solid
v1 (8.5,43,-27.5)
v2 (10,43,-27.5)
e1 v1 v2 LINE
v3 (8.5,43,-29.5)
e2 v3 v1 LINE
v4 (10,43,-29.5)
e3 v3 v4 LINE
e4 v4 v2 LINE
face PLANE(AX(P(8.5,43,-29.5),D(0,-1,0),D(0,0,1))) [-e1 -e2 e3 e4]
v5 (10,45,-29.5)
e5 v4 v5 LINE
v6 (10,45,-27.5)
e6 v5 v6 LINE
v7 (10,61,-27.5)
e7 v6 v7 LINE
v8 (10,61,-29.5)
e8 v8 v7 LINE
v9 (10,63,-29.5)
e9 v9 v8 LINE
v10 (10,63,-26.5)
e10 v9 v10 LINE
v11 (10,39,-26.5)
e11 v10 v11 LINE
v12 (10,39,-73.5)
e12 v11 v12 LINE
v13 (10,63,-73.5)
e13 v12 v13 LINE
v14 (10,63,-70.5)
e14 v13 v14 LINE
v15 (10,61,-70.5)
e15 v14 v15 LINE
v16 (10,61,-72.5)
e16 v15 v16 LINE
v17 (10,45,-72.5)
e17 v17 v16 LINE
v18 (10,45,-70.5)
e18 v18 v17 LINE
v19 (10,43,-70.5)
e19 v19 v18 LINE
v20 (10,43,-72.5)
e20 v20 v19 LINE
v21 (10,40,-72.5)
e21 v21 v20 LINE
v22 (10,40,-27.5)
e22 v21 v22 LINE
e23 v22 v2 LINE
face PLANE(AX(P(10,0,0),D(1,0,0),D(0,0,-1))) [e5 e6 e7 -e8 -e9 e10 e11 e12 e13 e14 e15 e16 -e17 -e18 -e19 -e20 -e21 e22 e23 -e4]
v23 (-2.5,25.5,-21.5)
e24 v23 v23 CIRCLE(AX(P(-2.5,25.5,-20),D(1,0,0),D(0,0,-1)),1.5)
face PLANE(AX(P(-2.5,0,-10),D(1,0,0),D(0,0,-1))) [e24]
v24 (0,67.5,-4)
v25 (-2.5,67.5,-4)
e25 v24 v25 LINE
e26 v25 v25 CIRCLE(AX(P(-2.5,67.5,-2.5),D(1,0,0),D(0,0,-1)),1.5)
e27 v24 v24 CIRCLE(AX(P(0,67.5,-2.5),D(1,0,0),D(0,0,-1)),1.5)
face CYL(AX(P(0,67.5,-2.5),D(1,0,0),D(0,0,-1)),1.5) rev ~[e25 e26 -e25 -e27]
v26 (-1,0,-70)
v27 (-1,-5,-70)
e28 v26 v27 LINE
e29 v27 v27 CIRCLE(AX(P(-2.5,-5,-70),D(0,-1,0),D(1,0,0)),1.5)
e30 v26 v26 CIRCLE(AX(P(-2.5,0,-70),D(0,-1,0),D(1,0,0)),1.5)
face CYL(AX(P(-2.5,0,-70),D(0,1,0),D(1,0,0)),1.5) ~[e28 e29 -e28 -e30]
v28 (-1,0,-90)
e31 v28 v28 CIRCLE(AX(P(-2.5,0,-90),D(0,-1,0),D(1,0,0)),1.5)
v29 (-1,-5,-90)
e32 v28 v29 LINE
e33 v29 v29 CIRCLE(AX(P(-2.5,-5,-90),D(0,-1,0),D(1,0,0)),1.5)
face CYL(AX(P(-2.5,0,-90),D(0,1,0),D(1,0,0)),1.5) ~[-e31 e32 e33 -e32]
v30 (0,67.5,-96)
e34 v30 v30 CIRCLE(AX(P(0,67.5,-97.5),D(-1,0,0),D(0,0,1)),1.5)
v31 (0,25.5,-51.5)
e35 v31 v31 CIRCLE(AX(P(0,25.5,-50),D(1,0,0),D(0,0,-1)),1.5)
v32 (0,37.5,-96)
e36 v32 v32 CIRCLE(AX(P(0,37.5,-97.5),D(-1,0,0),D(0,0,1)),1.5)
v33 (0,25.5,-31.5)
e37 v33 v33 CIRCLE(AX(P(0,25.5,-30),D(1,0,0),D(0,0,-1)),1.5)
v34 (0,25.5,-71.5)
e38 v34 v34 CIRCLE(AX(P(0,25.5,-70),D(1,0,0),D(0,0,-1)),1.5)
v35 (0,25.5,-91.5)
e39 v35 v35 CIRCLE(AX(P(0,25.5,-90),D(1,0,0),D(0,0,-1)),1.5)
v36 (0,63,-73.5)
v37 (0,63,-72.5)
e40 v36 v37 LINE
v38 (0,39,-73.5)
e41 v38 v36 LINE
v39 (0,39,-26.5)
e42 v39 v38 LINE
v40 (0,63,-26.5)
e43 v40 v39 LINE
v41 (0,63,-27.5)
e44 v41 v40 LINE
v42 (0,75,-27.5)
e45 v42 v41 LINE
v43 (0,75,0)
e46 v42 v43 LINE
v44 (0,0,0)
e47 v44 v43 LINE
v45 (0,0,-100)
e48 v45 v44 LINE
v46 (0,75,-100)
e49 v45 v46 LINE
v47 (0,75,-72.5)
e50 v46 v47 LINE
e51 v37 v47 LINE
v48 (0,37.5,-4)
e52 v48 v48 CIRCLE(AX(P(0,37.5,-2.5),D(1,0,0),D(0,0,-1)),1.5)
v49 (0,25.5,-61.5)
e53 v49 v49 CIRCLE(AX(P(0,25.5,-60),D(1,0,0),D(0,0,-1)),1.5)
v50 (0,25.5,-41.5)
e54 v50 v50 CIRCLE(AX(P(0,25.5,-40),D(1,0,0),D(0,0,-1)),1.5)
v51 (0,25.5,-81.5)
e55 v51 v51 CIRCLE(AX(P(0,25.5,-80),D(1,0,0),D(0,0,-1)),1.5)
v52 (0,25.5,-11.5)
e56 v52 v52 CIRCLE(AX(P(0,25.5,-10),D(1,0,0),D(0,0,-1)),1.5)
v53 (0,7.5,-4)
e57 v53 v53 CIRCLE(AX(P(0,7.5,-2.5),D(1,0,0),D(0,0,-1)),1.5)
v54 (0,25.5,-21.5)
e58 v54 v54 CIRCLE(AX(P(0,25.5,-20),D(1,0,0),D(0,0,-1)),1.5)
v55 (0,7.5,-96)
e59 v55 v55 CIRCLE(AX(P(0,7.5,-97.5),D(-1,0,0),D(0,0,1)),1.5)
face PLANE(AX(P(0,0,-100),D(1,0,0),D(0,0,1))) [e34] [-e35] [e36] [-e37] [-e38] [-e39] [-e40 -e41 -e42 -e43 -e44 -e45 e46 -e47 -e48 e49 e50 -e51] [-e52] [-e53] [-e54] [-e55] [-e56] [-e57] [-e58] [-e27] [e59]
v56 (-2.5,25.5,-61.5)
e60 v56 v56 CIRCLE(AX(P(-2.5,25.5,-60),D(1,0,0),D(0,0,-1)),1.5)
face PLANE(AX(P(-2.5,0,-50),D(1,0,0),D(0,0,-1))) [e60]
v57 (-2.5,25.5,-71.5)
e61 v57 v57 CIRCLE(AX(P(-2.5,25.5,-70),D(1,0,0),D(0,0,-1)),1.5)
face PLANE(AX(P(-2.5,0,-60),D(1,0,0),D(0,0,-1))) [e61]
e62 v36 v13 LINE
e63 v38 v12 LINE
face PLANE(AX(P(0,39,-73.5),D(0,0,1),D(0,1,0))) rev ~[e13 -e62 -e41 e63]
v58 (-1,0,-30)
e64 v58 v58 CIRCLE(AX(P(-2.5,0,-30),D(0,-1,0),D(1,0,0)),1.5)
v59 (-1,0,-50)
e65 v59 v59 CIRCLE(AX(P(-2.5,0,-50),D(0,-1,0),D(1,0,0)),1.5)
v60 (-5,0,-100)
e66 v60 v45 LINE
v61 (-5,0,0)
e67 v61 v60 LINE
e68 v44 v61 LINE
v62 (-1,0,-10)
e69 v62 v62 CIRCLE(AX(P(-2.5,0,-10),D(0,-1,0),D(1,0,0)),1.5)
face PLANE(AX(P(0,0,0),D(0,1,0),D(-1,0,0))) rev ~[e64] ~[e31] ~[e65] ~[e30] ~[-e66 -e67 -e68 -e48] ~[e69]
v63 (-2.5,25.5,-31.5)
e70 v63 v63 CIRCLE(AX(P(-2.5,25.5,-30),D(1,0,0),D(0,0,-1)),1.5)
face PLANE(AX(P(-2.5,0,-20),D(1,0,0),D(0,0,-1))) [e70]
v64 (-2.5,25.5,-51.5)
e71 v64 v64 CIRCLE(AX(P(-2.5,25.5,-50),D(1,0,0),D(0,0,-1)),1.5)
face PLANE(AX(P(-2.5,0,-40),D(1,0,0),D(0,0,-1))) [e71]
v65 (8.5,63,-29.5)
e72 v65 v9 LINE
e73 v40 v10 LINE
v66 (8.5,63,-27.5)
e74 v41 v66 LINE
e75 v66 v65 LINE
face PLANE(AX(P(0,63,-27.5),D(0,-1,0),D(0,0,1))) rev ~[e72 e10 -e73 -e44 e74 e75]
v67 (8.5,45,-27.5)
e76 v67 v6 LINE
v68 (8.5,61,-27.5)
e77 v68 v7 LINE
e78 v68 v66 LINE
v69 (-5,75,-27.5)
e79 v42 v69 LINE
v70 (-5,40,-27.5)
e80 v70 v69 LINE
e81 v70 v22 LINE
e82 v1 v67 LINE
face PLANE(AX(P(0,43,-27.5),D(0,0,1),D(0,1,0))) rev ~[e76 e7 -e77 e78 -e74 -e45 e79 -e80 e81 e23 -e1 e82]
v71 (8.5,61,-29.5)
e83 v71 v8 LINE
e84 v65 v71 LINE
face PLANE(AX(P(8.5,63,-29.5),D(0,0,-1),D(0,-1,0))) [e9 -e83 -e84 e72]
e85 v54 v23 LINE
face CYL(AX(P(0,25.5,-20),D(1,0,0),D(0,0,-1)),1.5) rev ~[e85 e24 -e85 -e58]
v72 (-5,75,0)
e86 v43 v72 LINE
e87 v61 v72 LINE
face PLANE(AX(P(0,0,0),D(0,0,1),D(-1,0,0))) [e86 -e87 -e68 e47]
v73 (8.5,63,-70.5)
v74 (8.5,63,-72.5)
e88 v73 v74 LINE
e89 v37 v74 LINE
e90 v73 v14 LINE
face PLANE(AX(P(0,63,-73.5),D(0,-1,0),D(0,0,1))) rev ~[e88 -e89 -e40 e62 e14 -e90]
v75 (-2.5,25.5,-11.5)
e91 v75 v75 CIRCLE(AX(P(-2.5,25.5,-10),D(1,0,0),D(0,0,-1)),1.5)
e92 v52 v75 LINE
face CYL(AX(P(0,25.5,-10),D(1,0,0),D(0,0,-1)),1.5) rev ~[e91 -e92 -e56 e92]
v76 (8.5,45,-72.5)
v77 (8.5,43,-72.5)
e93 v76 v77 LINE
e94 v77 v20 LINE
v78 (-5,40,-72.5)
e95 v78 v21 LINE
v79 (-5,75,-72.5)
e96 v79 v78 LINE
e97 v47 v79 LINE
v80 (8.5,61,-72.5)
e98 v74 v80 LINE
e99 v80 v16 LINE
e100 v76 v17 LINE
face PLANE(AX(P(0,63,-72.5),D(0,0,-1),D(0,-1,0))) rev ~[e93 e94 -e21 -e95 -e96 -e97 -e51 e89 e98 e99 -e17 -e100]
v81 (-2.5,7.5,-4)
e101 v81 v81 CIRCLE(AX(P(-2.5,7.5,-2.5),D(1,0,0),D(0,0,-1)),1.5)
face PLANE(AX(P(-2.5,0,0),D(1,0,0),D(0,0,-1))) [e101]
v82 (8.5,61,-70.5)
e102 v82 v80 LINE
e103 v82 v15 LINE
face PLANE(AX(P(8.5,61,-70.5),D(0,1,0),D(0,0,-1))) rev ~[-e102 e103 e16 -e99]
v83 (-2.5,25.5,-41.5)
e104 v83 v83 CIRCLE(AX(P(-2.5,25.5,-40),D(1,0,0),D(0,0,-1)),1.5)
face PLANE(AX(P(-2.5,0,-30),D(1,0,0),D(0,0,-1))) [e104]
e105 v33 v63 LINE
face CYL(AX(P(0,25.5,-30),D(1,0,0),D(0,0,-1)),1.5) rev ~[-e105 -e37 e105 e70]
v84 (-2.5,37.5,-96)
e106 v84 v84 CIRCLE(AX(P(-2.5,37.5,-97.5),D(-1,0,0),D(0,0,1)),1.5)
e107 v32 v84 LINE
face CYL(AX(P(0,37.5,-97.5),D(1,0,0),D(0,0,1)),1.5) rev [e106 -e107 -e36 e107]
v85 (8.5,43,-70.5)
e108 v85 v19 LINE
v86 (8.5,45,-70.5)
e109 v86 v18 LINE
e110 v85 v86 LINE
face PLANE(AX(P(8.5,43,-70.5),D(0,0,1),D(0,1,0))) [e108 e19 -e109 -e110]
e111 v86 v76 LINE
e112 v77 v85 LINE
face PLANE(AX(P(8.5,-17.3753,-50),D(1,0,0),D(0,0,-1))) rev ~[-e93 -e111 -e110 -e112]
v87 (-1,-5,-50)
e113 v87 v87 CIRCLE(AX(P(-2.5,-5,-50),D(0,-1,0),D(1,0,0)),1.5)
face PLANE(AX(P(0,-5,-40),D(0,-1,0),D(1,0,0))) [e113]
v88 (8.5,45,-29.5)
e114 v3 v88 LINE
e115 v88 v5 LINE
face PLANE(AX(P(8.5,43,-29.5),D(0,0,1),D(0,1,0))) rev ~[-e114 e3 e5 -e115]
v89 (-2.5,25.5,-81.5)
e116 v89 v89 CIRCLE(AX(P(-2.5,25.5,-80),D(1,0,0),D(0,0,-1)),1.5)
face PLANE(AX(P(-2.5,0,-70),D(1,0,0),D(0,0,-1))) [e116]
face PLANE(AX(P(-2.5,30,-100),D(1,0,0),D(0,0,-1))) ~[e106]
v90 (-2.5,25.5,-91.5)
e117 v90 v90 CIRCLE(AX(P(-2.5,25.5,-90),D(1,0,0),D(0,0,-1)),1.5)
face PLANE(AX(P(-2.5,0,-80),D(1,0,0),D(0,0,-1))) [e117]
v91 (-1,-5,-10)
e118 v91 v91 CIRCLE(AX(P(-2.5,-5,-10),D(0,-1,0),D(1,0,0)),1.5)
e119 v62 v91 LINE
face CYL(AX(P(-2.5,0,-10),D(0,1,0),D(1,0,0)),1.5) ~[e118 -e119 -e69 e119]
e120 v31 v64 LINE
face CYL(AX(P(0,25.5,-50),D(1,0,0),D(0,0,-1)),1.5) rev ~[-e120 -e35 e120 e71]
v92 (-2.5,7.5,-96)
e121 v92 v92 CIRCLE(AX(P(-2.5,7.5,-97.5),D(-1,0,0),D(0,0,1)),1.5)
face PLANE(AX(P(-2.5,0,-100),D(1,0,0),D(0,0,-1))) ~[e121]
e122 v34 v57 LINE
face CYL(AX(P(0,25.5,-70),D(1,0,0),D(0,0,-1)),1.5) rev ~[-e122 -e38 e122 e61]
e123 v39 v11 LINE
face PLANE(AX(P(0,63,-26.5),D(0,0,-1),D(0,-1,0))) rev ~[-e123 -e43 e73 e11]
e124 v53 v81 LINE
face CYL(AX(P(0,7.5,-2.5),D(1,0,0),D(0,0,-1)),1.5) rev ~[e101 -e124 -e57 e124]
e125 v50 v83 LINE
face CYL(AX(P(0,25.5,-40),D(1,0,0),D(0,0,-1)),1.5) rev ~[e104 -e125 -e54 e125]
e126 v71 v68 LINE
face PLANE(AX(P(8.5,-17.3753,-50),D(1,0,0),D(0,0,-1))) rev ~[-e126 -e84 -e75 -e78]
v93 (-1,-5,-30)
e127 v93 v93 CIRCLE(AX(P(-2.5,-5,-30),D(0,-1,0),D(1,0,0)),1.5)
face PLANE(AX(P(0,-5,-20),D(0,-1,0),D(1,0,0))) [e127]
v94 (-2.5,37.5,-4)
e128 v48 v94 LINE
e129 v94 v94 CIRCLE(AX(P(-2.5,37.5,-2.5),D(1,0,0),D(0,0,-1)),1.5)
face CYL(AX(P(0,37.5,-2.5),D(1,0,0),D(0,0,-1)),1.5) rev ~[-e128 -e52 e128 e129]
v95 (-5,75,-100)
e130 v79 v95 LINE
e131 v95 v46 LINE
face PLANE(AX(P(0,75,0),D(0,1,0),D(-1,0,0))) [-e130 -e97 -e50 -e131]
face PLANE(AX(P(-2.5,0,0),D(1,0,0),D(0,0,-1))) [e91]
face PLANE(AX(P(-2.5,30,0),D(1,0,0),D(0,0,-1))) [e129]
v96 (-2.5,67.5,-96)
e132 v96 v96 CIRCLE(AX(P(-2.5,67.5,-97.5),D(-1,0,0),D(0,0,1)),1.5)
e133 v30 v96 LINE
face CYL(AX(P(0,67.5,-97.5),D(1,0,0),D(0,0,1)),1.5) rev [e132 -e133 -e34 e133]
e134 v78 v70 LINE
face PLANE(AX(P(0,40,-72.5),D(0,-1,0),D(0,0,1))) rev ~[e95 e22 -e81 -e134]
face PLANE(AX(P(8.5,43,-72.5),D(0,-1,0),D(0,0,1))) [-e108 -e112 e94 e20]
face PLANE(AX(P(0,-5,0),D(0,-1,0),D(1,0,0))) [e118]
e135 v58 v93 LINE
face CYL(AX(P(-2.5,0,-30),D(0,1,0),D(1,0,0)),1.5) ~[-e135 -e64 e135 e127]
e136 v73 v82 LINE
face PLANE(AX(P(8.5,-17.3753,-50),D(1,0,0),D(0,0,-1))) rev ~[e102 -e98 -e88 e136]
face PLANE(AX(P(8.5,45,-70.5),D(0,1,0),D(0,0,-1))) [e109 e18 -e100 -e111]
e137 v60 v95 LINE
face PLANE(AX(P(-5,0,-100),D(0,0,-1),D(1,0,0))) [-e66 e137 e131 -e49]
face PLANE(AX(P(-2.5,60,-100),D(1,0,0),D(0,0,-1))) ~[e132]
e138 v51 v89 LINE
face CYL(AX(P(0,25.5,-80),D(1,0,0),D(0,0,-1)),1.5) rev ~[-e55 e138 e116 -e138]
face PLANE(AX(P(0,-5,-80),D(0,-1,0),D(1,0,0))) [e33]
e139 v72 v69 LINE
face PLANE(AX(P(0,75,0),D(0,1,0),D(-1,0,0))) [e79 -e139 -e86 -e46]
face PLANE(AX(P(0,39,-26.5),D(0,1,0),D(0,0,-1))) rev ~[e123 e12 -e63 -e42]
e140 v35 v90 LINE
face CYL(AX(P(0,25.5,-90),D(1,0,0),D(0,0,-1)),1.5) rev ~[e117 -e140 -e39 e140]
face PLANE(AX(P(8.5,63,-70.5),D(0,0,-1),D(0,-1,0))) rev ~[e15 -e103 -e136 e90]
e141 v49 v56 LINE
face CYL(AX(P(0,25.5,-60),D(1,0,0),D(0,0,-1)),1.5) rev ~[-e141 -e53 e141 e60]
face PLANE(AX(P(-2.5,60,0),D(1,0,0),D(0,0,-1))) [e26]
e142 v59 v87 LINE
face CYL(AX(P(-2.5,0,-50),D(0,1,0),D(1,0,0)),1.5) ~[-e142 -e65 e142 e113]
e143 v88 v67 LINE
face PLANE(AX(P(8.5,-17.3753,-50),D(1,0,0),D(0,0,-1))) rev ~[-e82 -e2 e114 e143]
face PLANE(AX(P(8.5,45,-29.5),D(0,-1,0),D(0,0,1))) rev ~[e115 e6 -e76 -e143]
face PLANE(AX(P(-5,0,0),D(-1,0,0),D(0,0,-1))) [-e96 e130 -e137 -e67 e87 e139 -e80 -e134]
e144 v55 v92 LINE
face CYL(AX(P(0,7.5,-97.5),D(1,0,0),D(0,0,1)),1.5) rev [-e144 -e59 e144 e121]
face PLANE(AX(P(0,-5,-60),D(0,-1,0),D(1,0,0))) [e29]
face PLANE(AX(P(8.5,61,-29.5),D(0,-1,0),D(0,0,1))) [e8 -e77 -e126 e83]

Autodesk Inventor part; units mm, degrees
ref_plane "YZ Plane" through (0, 0, 0) normal (1, 0, 0) x (0, 1, 0)
sketch "Sketch2" plane through (0, 0, 0) normal (0, 1, 0) x (-1, 0, 0)
  line L0 (0, 0) -> (5, 0)
  line L1 (5, 0) -> (5, -100)
  line L2 (5, -100) -> (0, -100)
  line L3 (0, -100) -> (0, 0)
  dimension "d0" = 5
  dimension "d1" = 100
extrude "Extrusion1" add sketch "Sketch2" along normal blind 75
sketch "Sketch4" plane through (0, 0, 0) normal (1, 0, 0) x (0, 0, -1)
  line L0 (0, 75) -> (100, 75) projected
  line L1 (27.5, 40) -> (72.5, 40)
  line L2 (72.5, 40) -> (72.5, 75)
  line L3 (72.5, 75) -> (27.5, 75)
  line L4 (27.5, 75) -> (27.5, 40)
  line L5 (100, 0) -> (100, 75) projected
  line L6 (0, 0) -> (100, 0) projected
  line L7 (0, 0) -> (0, 75) projected
  dimension "d9" = 27.5
  dimension "d11" = 40
  dimension "d12" = 45
  dimension "d13" = 27.5
extrude "Extrusion3" cut sketch "Sketch4" against normal through all contours L0 L2 L1 L4
sketch "Sketch5" plane through (0, 0, 0) normal (1, 0, 0) x (0, 0, -1)
  line L0 (72.5, 43) -> (27.5, 43) projected
  line L1 (72.5, 63) -> (72.5, 43) projected
  line L2 (27.5, 63) -> (72.5, 63) projected
  line L3 (27.5, 43) -> (27.5, 63) projected
  circle A0 centre (28.5, 44) radius 0.75 projected
  circle A1 centre (28.5, 62) radius 0.75 projected
  circle A2 centre (71.5, 44) radius 0.75 projected
  circle A3 centre (71.5, 62) radius 0.75 projected
  line L4 (47.55, 45.5) -> (47.35, 45.5) projected
  line L5 (47.55, 45.5) -> (47.65, 45.6) projected
  line L6 (49.8, 45.6) -> (47.65, 45.6) projected
  line L7 (49.8, 45.6) -> (49.9, 45.5) projected
  line L8 (50.1, 45.5) -> (49.9, 45.5) projected
  line L9 (50.1, 45.5) -> (50.2, 45.6) projected
  line L10 (52.35, 45.6) -> (50.2, 45.6) projected
  line L11 (52.35, 45.6) -> (52.45, 45.5) projected
  line L12 (52.65, 45.5) -> (52.45, 45.5) projected
  line L13 (52.65, 45.5) -> (52.75, 45.6) projected
  line L14 (54.9, 45.6) -> (52.75, 45.6) projected
  line L15 (54.9, 45.6) -> (55, 45.5) projected
  line L16 (55, 43.2) -> (55, 45.5) projected
  line L17 (55, 43.2) -> (54.9, 43.1) projected
  line L18 (52.75, 43.1) -> (54.9, 43.1) projected
  line L19 (52.75, 43.1) -> (52.65, 43.2) projected
  line L20 (52.45, 43.2) -> (52.65, 43.2) projected
  line L21 (52.45, 43.2) -> (52.35, 43.1) projected
  line L22 (50.2, 43.1) -> (52.35, 43.1) projected
  line L23 (50.2, 43.1) -> (50.1, 43.2) projected
  line L24 (49.9, 43.2) -> (50.1, 43.2) projected
  line L25 (49.9, 43.2) -> (49.8, 43.1) projected
  line L26 (47.65, 43.1) -> (49.8, 43.1) projected
  line L27 (47.65, 43.1) -> (47.55, 43.2) projected
  line L28 (47.35, 43.2) -> (47.55, 43.2) projected
  line L29 (47.35, 43.2) -> (47.25, 43.1) projected
  line L30 (45.1, 43.1) -> (47.25, 43.1) projected
  line L31 (45.1, 43.1) -> (45, 43.2) projected
  line L32 (45, 45.5) -> (45, 43.2) projected
  line L33 (45, 45.5) -> (45.1, 45.6) projected
  line L34 (47.25, 45.6) -> (45.1, 45.6) projected
  line L35 (47.25, 45.6) -> (47.35, 45.5) projected
  line L36 (29, 56.95) -> (29, 56.75) projected
  line L37 (29.1, 56.95) -> (29, 56.95) projected
  line L38 (29.1, 56.75) -> (29.1, 56.95) projected
  line L39 (29, 56.75) -> (29.1, 56.75) projected
  line L40 (33.9, 56.95) -> (33.9, 56.75) projected
  line L41 (34, 56.95) -> (33.9, 56.95) projected
  line L42 (34, 56.75) -> (34, 56.95) projected
  line L43 (33.9, 56.75) -> (34, 56.75) projected
  line L44 (29, 55.8071) -> (29, 55.6071) projected
  line L45 (29.1, 55.8071) -> (29, 55.8071) projected
  line L46 (29.1, 55.6071) -> (29.1, 55.8071) projected
  line L47 (29, 55.6071) -> (29.1, 55.6071) projected
  line L48 (33.9, 55.8071) -> (33.9, 55.6071) projected
  line L49 (34, 55.8071) -> (33.9, 55.8071) projected
  line L50 (34, 55.6071) -> (34, 55.8071) projected
  line L51 (33.9, 55.6071) -> (34, 55.6071) projected
  line L52 (29, 54.6643) -> (29, 54.4643) projected
  line L53 (29.1, 54.6643) -> (29, 54.6643) projected
  line L54 (29.1, 54.4643) -> (29.1, 54.6643) projected
  line L55 (29, 54.4643) -> (29.1, 54.4643) projected
  line L56 (33.9, 54.6643) -> (33.9, 54.4643) projected
  line L57 (34, 54.6643) -> (33.9, 54.6643) projected
  line L58 (34, 54.4643) -> (34, 54.6643) projected
  line L59 (33.9, 54.4643) -> (34, 54.4643) projected
  line L60 (29, 53.5214) -> (29, 53.3214) projected
  line L61 (29.1, 53.5214) -> (29, 53.5214) projected
  line L62 (29.1, 53.3214) -> (29.1, 53.5214) projected
  line L63 (29, 53.3214) -> (29.1, 53.3214) projected
  line L64 (33.9, 53.5214) -> (33.9, 53.3214) projected
  line L65 (34, 53.5214) -> (33.9, 53.5214) projected
  line L66 (34, 53.3214) -> (34, 53.5214) projected
  line L67 (33.9, 53.3214) -> (34, 53.3214) projected
  line L68 (29, 52.3786) -> (29, 52.1786) projected
  line L69 (29.1, 52.3786) -> (29, 52.3786) projected
  line L70 (29.1, 52.1786) -> (29.1, 52.3786) projected
  line L71 (29, 52.1786) -> (29.1, 52.1786) projected
  line L72 (33.9, 52.3786) -> (33.9, 52.1786) projected
  line L73 (34, 52.3786) -> (33.9, 52.3786) projected
  line L74 (34, 52.1786) -> (34, 52.3786) projected
  line L75 (33.9, 52.1786) -> (34, 52.1786) projected
  line L76 (29, 51.2357) -> (29, 51.0357) projected
  line L77 (29.1, 51.2357) -> (29, 51.2357) projected
  line L78 (29.1, 51.0357) -> (29.1, 51.2357) projected
  line L79 (29, 51.0357) -> (29.1, 51.0357) projected
  line L80 (33.9, 51.2357) -> (33.9, 51.0357) projected
  line L81 (34, 51.2357) -> (33.9, 51.2357) projected
  line L82 (34, 51.0357) -> (34, 51.2357) projected
  line L83 (33.9, 51.0357) -> (34, 51.0357) projected
  line L84 (29, 50.0929) -> (29, 49.8929) projected
  line L85 (29.1, 50.0929) -> (29, 50.0929) projected
  line L86 (29.1, 49.8929) -> (29.1, 50.0929) projected
  line L87 (29, 49.8929) -> (29.1, 49.8929) projected
  line L88 (33.9, 50.0929) -> (33.9, 49.8929) projected
  line L89 (34, 50.0929) -> (33.9, 50.0929) projected
  line L90 (34, 49.8929) -> (34, 50.0929) projected
  line L91 (33.9, 49.8929) -> (34, 49.8929) projected
  line L92 (29, 48.95) -> (29, 48.75) projected
  line L93 (29.1, 48.95) -> (29, 48.95) projected
  line L94 (29.1, 48.75) -> (29.1, 48.95) projected
  line L95 (29, 48.75) -> (29.1, 48.75) projected
  line L96 (33.9, 48.95) -> (33.9, 48.75) projected
  line L97 (34, 48.95) -> (33.9, 48.95) projected
  line L98 (34, 48.75) -> (34, 48.95) projected
  line L99 (33.9, 48.75) -> (34, 48.75) projected
  line L100 (45.95, 50.5) -> (46.15, 50.5) projected
  line L101 (45.95, 50.55) -> (45.95, 50.5) projected
  line L102 (46.15, 50.55) -> (45.95, 50.55) projected
  line L103 (46.15, 50.5) -> (46.15, 50.55) projected
  line L104 (46.15, 55.5) -> (45.95, 55.5) projected
  line L105 (46.15, 55.45) -> (46.15, 55.5) projected
  line L106 (45.95, 55.45) -> (46.15, 55.45) projected
  line L107 (45.95, 55.5) -> (45.95, 55.45) projected
  line L108 (47.2667, 50.5) -> (47.4667, 50.5) projected
  line L109 (47.2667, 50.55) -> (47.2667, 50.5) projected
  line L110 (47.4667, 50.55) -> (47.2667, 50.55) projected
  line L111 (47.4667, 50.5) -> (47.4667, 50.55) projected
  line L112 (47.4667, 55.5) -> (47.2667, 55.5) projected
  line L113 (47.4667, 55.45) -> (47.4667, 55.5) projected
  line L114 (47.2667, 55.45) -> (47.4667, 55.45) projected
  line L115 (47.2667, 55.5) -> (47.2667, 55.45) projected
  line L116 (48.5833, 50.5) -> (48.7833, 50.5) projected
  line L117 (48.5833, 50.55) -> (48.5833, 50.5) projected
  line L118 (48.7833, 50.55) -> (48.5833, 50.55) projected
  line L119 (48.7833, 50.5) -> (48.7833, 50.55) projected
  line L120 (48.7833, 55.5) -> (48.5833, 55.5) projected
  line L121 (48.7833, 55.45) -> (48.7833, 55.5) projected
  line L122 (48.5833, 55.45) -> (48.7833, 55.45) projected
  line L123 (48.5833, 55.5) -> (48.5833, 55.45) projected
  line L124 (49.9, 50.5) -> (50.1, 50.5) projected
  line L125 (49.9, 50.55) -> (49.9, 50.5) projected
  line L126 (50.1, 50.55) -> (49.9, 50.55) projected
  line L127 (50.1, 50.5) -> (50.1, 50.55) projected
  line L128 (50.1, 55.5) -> (49.9, 55.5) projected
  line L129 (50.1, 55.45) -> (50.1, 55.5) projected
  line L130 (49.9, 55.45) -> (50.1, 55.45) projected
  line L131 (49.9, 55.5) -> (49.9, 55.45) projected
  line L132 (51.2167, 50.5) -> (51.4167, 50.5) projected
  line L133 (51.2167, 50.55) -> (51.2167, 50.5) projected
  line L134 (51.4167, 50.55) -> (51.2167, 50.55) projected
  line L135 (51.4167, 50.5) -> (51.4167, 50.55) projected
  line L136 (51.4167, 55.5) -> (51.2167, 55.5) projected
  line L137 (51.4167, 55.45) -> (51.4167, 55.5) projected
  line L138 (51.2167, 55.45) -> (51.4167, 55.45) projected
  line L139 (51.2167, 55.5) -> (51.2167, 55.45) projected
  line L140 (52.5333, 50.5) -> (52.7333, 50.5) projected
  line L141 (52.5333, 50.55) -> (52.5333, 50.5) projected
  line L142 (52.7333, 50.55) -> (52.5333, 50.55) projected
  line L143 (52.7333, 50.5) -> (52.7333, 50.55) projected
  line L144 (52.7333, 55.5) -> (52.5333, 55.5) projected
  line L145 (52.7333, 55.45) -> (52.7333, 55.5) projected
  line L146 (52.5333, 55.45) -> (52.7333, 55.45) projected
  line L147 (52.5333, 55.5) -> (52.5333, 55.45) projected
  line L148 (53.85, 50.5) -> (54.05, 50.5) projected
  line L149 (53.85, 50.55) -> (53.85, 50.5) projected
  line L150 (54.05, 50.55) -> (53.85, 50.55) projected
  line L151 (54.05, 50.5) -> (54.05, 50.55) projected
  line L152 (54.05, 55.5) -> (53.85, 55.5) projected
  line L153 (54.05, 55.45) -> (54.05, 55.5) projected
  line L154 (53.85, 55.45) -> (54.05, 55.45) projected
  line L155 (53.85, 55.5) -> (53.85, 55.45) projected
  line L156 (64.1, 50.5) -> (64.3, 50.5) projected
  line L157 (64.1, 50.55) -> (64.1, 50.5) projected
  line L158 (64.3, 50.55) -> (64.1, 50.55) projected
  line L159 (64.3, 50.5) -> (64.3, 50.55) projected
  line L160 (64.3, 55.5) -> (64.1, 55.5) projected
  line L161 (64.3, 55.45) -> (64.3, 55.5) projected
  line L162 (64.1, 55.45) -> (64.3, 55.45) projected
  line L163 (64.1, 55.5) -> (64.1, 55.45) projected
  line L164 (65.4167, 50.5) -> (65.6167, 50.5) projected
  line L165 (65.4167, 50.55) -> (65.4167, 50.5) projected
  line L166 (65.6167, 50.55) -> (65.4167, 50.55) projected
  line L167 (65.6167, 50.5) -> (65.6167, 50.55) projected
  line L168 (65.6167, 55.5) -> (65.4167, 55.5) projected
  line L169 (65.6167, 55.45) -> (65.6167, 55.5) projected
  line L170 (65.4167, 55.45) -> (65.6167, 55.45) projected
  line L171 (65.4167, 55.5) -> (65.4167, 55.45) projected
  line L172 (66.7333, 50.5) -> (66.9333, 50.5) projected
  line L173 (66.7333, 50.55) -> (66.7333, 50.5) projected
  line L174 (66.9333, 50.55) -> (66.7333, 50.55) projected
  line L175 (66.9333, 50.5) -> (66.9333, 50.55) projected
  line L176 (66.9333, 55.5) -> (66.7333, 55.5) projected
  line L177 (66.9333, 55.45) -> (66.9333, 55.5) projected
  line L178 (66.7333, 55.45) -> (66.9333, 55.45) projected
  line L179 (66.7333, 55.5) -> (66.7333, 55.45) projected
  line L180 (68.05, 50.5) -> (68.25, 50.5) projected
  line L181 (68.05, 50.55) -> (68.05, 50.5) projected
  line L182 (68.25, 50.55) -> (68.05, 50.55) projected
  line L183 (68.25, 50.5) -> (68.25, 50.55) projected
  line L184 (68.25, 55.5) -> (68.05, 55.5) projected
  line L185 (68.25, 55.45) -> (68.25, 55.5) projected
  line L186 (68.05, 55.45) -> (68.25, 55.45) projected
  line L187 (68.05, 55.5) -> (68.05, 55.45) projected
  line L188 (69.3667, 50.5) -> (69.5667, 50.5) projected
  line L189 (69.3667, 50.55) -> (69.3667, 50.5) projected
  line L190 (69.5667, 50.55) -> (69.3667, 50.55) projected
  line L191 (69.5667, 50.5) -> (69.5667, 50.55) projected
  line L192 (69.5667, 55.5) -> (69.3667, 55.5) projected
  line L193 (69.5667, 55.45) -> (69.5667, 55.5) projected
  line L194 (69.3667, 55.45) -> (69.5667, 55.45) projected
  line L195 (69.3667, 55.5) -> (69.3667, 55.45) projected
  line L196 (70.6833, 50.5) -> (70.8833, 50.5) projected
  line L197 (70.6833, 50.55) -> (70.6833, 50.5) projected
  line L198 (70.8833, 50.55) -> (70.6833, 50.55) projected
  line L199 (70.8833, 50.5) -> (70.8833, 50.55) projected
  line L200 (70.8833, 55.5) -> (70.6833, 55.5) projected
  line L201 (70.8833, 55.45) -> (70.8833, 55.5) projected
  line L202 (70.6833, 55.45) -> (70.8833, 55.45) projected
  line L203 (70.6833, 55.5) -> (70.6833, 55.45) projected
  line L204 (72, 50.5) -> (72.2, 50.5) projected
  line L205 (72, 50.55) -> (72, 50.5) projected
  line L206 (72.2, 50.55) -> (72, 50.55) projected
  line L207 (72.2, 50.5) -> (72.2, 50.55) projected
  line L208 (72.2, 55.5) -> (72, 55.5) projected
  line L209 (72.2, 55.45) -> (72.2, 55.5) projected
  line L210 (72, 55.45) -> (72.2, 55.45) projected
  line L211 (72, 55.5) -> (72, 55.45) projected
  line L212 (63.9, 55) -> (63.9, 51) projected
  line L213 (72.4, 55) -> (63.9, 55) projected
  line L214 (72.4, 51) -> (72.4, 55) projected
  line L215 (63.9, 51) -> (72.4, 51) projected
  line L216 (54.25, 51) -> (54.25, 55) projected
  line L217 (45.75, 51) -> (54.25, 51) projected
  line L218 (45.75, 55) -> (45.75, 51) projected
  line L219 (54.25, 55) -> (45.75, 55) projected
  line L220 (29.5, 57.75) -> (29.5, 48.25) projected
  line L221 (33.5, 57.75) -> (29.5, 57.75) projected
  line L222 (33.5, 48.25) -> (33.5, 57.75) projected
  line L223 (29.5, 48.25) -> (33.5, 48.25) projected
  line L224 (27.5, 63) -> (26.5, 63)
  line L225 (27.5, 40) -> (27.5, 75) projected
  line L226 (27.5, 63) -> (28.5, 63) construction
  line L227 (26.5, 63) -> (26.5, 39)
  line L228 (26.5, 39) -> (73.5, 39)
  line L229 (73.5, 39) -> (73.5, 63)
  line L230 (73.5, 63) -> (72.5, 63)
  line L231 (72.5, 75) -> (72.5, 40) projected
  line L232 (72.5, 40) -> (27.5, 40)
  line L233 (27.5, 40) -> (27.5, 63)
  point P0 (0, 0)
  dimension "d16" = 1
  dimension "d17" = 180
  dimension "d18" = 24
  dimension "d19" = 90
  dimension "d20" = 47
  dimension "d21" = 90
extrude "Extrusion4" add sketch "Sketch5" along normal blind 10 contours L1 L230 L229 L228 L227 L224 L3 L225 L232 L231
ref_plane "Work Plane1" through (8.5, -17.3753, -50) normal (1, 0, 0) x (0, 0, -1)
sketch "Sketch6" plane through (8.5, -17.3753, -50) normal (1, 0, 0) x (0, 0, -1)
  line L0 (22.5, 60.3753) -> (-22.5, 60.3753) projected
  line L1 (22.5, 80.3753) -> (22.5, 60.3753) projected
  line L2 (-22.5, 80.3753) -> (22.5, 80.3753) projected
  line L3 (-22.5, 60.3753) -> (-22.5, 80.3753) projected
  circle A0 centre (-21.5, 61.3753) radius 0.75 projected
  circle A1 centre (-21.5, 79.3753) radius 0.75 projected
  circle A2 centre (21.5, 61.3753) radius 0.75 projected
  circle A3 centre (21.5, 79.3753) radius 0.75 projected
  line L4 (-2.45, 62.8753) -> (-2.65, 62.8753) projected
  line L5 (-2.45, 62.8753) -> (-2.35, 62.9753) projected
  line L6 (-0.2, 62.9753) -> (-2.35, 62.9753) projected
  line L7 (-0.2, 62.9753) -> (-0.1, 62.8753) projected
  line L8 (0.1, 62.8753) -> (-0.1, 62.8753) projected
  line L9 (0.1, 62.8753) -> (0.2, 62.9753) projected
  line L10 (2.35, 62.9753) -> (0.2, 62.9753) projected
  line L11 (2.35, 62.9753) -> (2.45, 62.8753) projected
  line L12 (2.65, 62.8753) -> (2.45, 62.8753) projected
  line L13 (2.65, 62.8753) -> (2.75, 62.9753) projected
  line L14 (4.9, 62.9753) -> (2.75, 62.9753) projected
  line L15 (4.9, 62.9753) -> (5, 62.8753) projected
  line L16 (5, 60.5753) -> (5, 62.8753) projected
  line L17 (5, 60.5753) -> (4.9, 60.4753) projected
  line L18 (2.75, 60.4753) -> (4.9, 60.4753) projected
  line L19 (2.75, 60.4753) -> (2.65, 60.5753) projected
  line L20 (2.45, 60.5753) -> (2.65, 60.5753) projected
  line L21 (2.45, 60.5753) -> (2.35, 60.4753) projected
  line L22 (0.2, 60.4753) -> (2.35, 60.4753) projected
  line L23 (0.2, 60.4753) -> (0.1, 60.5753) projected
  line L24 (-0.1, 60.5753) -> (0.1, 60.5753) projected
  line L25 (-0.1, 60.5753) -> (-0.2, 60.4753) projected
  line L26 (-2.35, 60.4753) -> (-0.2, 60.4753) projected
  line L27 (-2.35, 60.4753) -> (-2.45, 60.5753) projected
  line L28 (-2.65, 60.5753) -> (-2.45, 60.5753) projected
  line L29 (-2.65, 60.5753) -> (-2.75, 60.4753) projected
  line L30 (-4.9, 60.4753) -> (-2.75, 60.4753) projected
  line L31 (-4.9, 60.4753) -> (-5, 60.5753) projected
  line L32 (-5, 62.8753) -> (-5, 60.5753) projected
  line L33 (-5, 62.8753) -> (-4.9, 62.9753) projected
  line L34 (-2.75, 62.9753) -> (-4.9, 62.9753) projected
  line L35 (-2.75, 62.9753) -> (-2.65, 62.8753) projected
  line L36 (-21, 74.3253) -> (-21, 74.1253) projected
  line L37 (-20.9, 74.3253) -> (-21, 74.3253) projected
  line L38 (-20.9, 74.1253) -> (-20.9, 74.3253) projected
  line L39 (-21, 74.1253) -> (-20.9, 74.1253) projected
  line L40 (-16.1, 74.3253) -> (-16.1, 74.1253) projected
  line L41 (-16, 74.3253) -> (-16.1, 74.3253) projected
  line L42 (-16, 74.1253) -> (-16, 74.3253) projected
  line L43 (-16.1, 74.1253) -> (-16, 74.1253) projected
  line L44 (-21, 73.1824) -> (-21, 72.9824) projected
  line L45 (-20.9, 73.1824) -> (-21, 73.1824) projected
  line L46 (-20.9, 72.9824) -> (-20.9, 73.1824) projected
  line L47 (-21, 72.9824) -> (-20.9, 72.9824) projected
  line L48 (-16.1, 73.1824) -> (-16.1, 72.9824) projected
  line L49 (-16, 73.1824) -> (-16.1, 73.1824) projected
  line L50 (-16, 72.9824) -> (-16, 73.1824) projected
  line L51 (-16.1, 72.9824) -> (-16, 72.9824) projected
  line L52 (-21, 72.0396) -> (-21, 71.8396) projected
  line L53 (-20.9, 72.0396) -> (-21, 72.0396) projected
  line L54 (-20.9, 71.8396) -> (-20.9, 72.0396) projected
  line L55 (-21, 71.8396) -> (-20.9, 71.8396) projected
  line L56 (-16.1, 72.0396) -> (-16.1, 71.8396) projected
  line L57 (-16, 72.0396) -> (-16.1, 72.0396) projected
  line L58 (-16, 71.8396) -> (-16, 72.0396) projected
  line L59 (-16.1, 71.8396) -> (-16, 71.8396) projected
  line L60 (-21, 70.8967) -> (-21, 70.6967) projected
  line L61 (-20.9, 70.8967) -> (-21, 70.8967) projected
  line L62 (-20.9, 70.6967) -> (-20.9, 70.8967) projected
  line L63 (-21, 70.6967) -> (-20.9, 70.6967) projected
  line L64 (-16.1, 70.8967) -> (-16.1, 70.6967) projected
  line L65 (-16, 70.8967) -> (-16.1, 70.8967) projected
  line L66 (-16, 70.6967) -> (-16, 70.8967) projected
  line L67 (-16.1, 70.6967) -> (-16, 70.6967) projected
  line L68 (-21, 69.7538) -> (-21, 69.5538) projected
  line L69 (-20.9, 69.7538) -> (-21, 69.7538) projected
  line L70 (-20.9, 69.5538) -> (-20.9, 69.7538) projected
  line L71 (-21, 69.5538) -> (-20.9, 69.5538) projected
  line L72 (-16.1, 69.7538) -> (-16.1, 69.5538) projected
  line L73 (-16, 69.7538) -> (-16.1, 69.7538) projected
  line L74 (-16, 69.5538) -> (-16, 69.7538) projected
  line L75 (-16.1, 69.5538) -> (-16, 69.5538) projected
  line L76 (-21, 68.611) -> (-21, 68.411) projected
  line L77 (-20.9, 68.611) -> (-21, 68.611) projected
  line L78 (-20.9, 68.411) -> (-20.9, 68.611) projected
  line L79 (-21, 68.411) -> (-20.9, 68.411) projected
  line L80 (-16.1, 68.611) -> (-16.1, 68.411) projected
  line L81 (-16, 68.611) -> (-16.1, 68.611) projected
  line L82 (-16, 68.411) -> (-16, 68.611) projected
  line L83 (-16.1, 68.411) -> (-16, 68.411) projected
  line L84 (-21, 67.4681) -> (-21, 67.2681) projected
  line L85 (-20.9, 67.4681) -> (-21, 67.4681) projected
  line L86 (-20.9, 67.2681) -> (-20.9, 67.4681) projected
  line L87 (-21, 67.2681) -> (-20.9, 67.2681) projected
  line L88 (-16.1, 67.4681) -> (-16.1, 67.2681) projected
  line L89 (-16, 67.4681) -> (-16.1, 67.4681) projected
  line L90 (-16, 67.2681) -> (-16, 67.4681) projected
  line L91 (-16.1, 67.2681) -> (-16, 67.2681) projected
  line L92 (-21, 66.3253) -> (-21, 66.1253) projected
  line L93 (-20.9, 66.3253) -> (-21, 66.3253) projected
  line L94 (-20.9, 66.1253) -> (-20.9, 66.3253) projected
  line L95 (-21, 66.1253) -> (-20.9, 66.1253) projected
  line L96 (-16.1, 66.3253) -> (-16.1, 66.1253) projected
  line L97 (-16, 66.3253) -> (-16.1, 66.3253) projected
  line L98 (-16, 66.1253) -> (-16, 66.3253) projected
  line L99 (-16.1, 66.1253) -> (-16, 66.1253) projected
  line L100 (-4.05, 67.8753) -> (-3.85, 67.8753) projected
  line L101 (-4.05, 67.9253) -> (-4.05, 67.8753) projected
  line L102 (-3.85, 67.9253) -> (-4.05, 67.9253) projected
  line L103 (-3.85, 67.8753) -> (-3.85, 67.9253) projected
  line L104 (-3.85, 72.8753) -> (-4.05, 72.8753) projected
  line L105 (-3.85, 72.8253) -> (-3.85, 72.8753) projected
  line L106 (-4.05, 72.8253) -> (-3.85, 72.8253) projected
  line L107 (-4.05, 72.8753) -> (-4.05, 72.8253) projected
  line L108 (-2.7333, 67.8753) -> (-2.5333, 67.8753) projected
  line L109 (-2.7333, 67.9253) -> (-2.7333, 67.8753) projected
  line L110 (-2.5333, 67.9253) -> (-2.7333, 67.9253) projected
  line L111 (-2.5333, 67.8753) -> (-2.5333, 67.9253) projected
  line L112 (-2.5333, 72.8753) -> (-2.7333, 72.8753) projected
  line L113 (-2.5333, 72.8253) -> (-2.5333, 72.8753) projected
  line L114 (-2.7333, 72.8253) -> (-2.5333, 72.8253) projected
  line L115 (-2.7333, 72.8753) -> (-2.7333, 72.8253) projected
  line L116 (-1.4167, 67.8753) -> (-1.2167, 67.8753) projected
  line L117 (-1.4167, 67.9253) -> (-1.4167, 67.8753) projected
  line L118 (-1.2167, 67.9253) -> (-1.4167, 67.9253) projected
  line L119 (-1.2167, 67.8753) -> (-1.2167, 67.9253) projected
  line L120 (-1.2167, 72.8753) -> (-1.4167, 72.8753) projected
  line L121 (-1.2167, 72.8253) -> (-1.2167, 72.8753) projected
  line L122 (-1.4167, 72.8253) -> (-1.2167, 72.8253) projected
  line L123 (-1.4167, 72.8753) -> (-1.4167, 72.8253) projected
  line L124 (-0.1, 67.8753) -> (0.1, 67.8753) projected
  line L125 (-0.1, 67.9253) -> (-0.1, 67.8753) projected
  line L126 (0.1, 67.9253) -> (-0.1, 67.9253) projected
  line L127 (0.1, 67.8753) -> (0.1, 67.9253) projected
  line L128 (0.1, 72.8753) -> (-0.1, 72.8753) projected
  line L129 (0.1, 72.8253) -> (0.1, 72.8753) projected
  line L130 (-0.1, 72.8253) -> (0.1, 72.8253) projected
  line L131 (-0.1, 72.8753) -> (-0.1, 72.8253) projected
  line L132 (1.2167, 67.8753) -> (1.4167, 67.8753) projected
  line L133 (1.2167, 67.9253) -> (1.2167, 67.8753) projected
  line L134 (1.4167, 67.9253) -> (1.2167, 67.9253) projected
  line L135 (1.4167, 67.8753) -> (1.4167, 67.9253) projected
  line L136 (1.4167, 72.8753) -> (1.2167, 72.8753) projected
  line L137 (1.4167, 72.8253) -> (1.4167, 72.8753) projected
  line L138 (1.2167, 72.8253) -> (1.4167, 72.8253) projected
  line L139 (1.2167, 72.8753) -> (1.2167, 72.8253) projected
  line L140 (2.5333, 67.8753) -> (2.7333, 67.8753) projected
  line L141 (2.5333, 67.9253) -> (2.5333, 67.8753) projected
  line L142 (2.7333, 67.9253) -> (2.5333, 67.9253) projected
  line L143 (2.7333, 67.8753) -> (2.7333, 67.9253) projected
  line L144 (2.7333, 72.8753) -> (2.5333, 72.8753) projected
  line L145 (2.7333, 72.8253) -> (2.7333, 72.8753) projected
  line L146 (2.5333, 72.8253) -> (2.7333, 72.8253) projected
  line L147 (2.5333, 72.8753) -> (2.5333, 72.8253) projected
  line L148 (3.85, 67.8753) -> (4.05, 67.8753) projected
  line L149 (3.85, 67.9253) -> (3.85, 67.8753) projected
  line L150 (4.05, 67.9253) -> (3.85, 67.9253) projected
  line L151 (4.05, 67.8753) -> (4.05, 67.9253) projected
  line L152 (4.05, 72.8753) -> (3.85, 72.8753) projected
  line L153 (4.05, 72.8253) -> (4.05, 72.8753) projected
  line L154 (3.85, 72.8253) -> (4.05, 72.8253) projected
  line L155 (3.85, 72.8753) -> (3.85, 72.8253) projected
  line L156 (14.1, 67.8753) -> (14.3, 67.8753) projected
  line L157 (14.1, 67.9253) -> (14.1, 67.8753) projected
  line L158 (14.3, 67.9253) -> (14.1, 67.9253) projected
  line L159 (14.3, 67.8753) -> (14.3, 67.9253) projected
  line L160 (14.3, 72.8753) -> (14.1, 72.8753) projected
  line L161 (14.3, 72.8253) -> (14.3, 72.8753) projected
  line L162 (14.1, 72.8253) -> (14.3, 72.8253) projected
  line L163 (14.1, 72.8753) -> (14.1, 72.8253) projected
  line L164 (15.4167, 67.8753) -> (15.6167, 67.8753) projected
  line L165 (15.4167, 67.9253) -> (15.4167, 67.8753) projected
  line L166 (15.6167, 67.9253) -> (15.4167, 67.9253) projected
  line L167 (15.6167, 67.8753) -> (15.6167, 67.9253) projected
  line L168 (15.6167, 72.8753) -> (15.4167, 72.8753) projected
  line L169 (15.6167, 72.8253) -> (15.6167, 72.8753) projected
  line L170 (15.4167, 72.8253) -> (15.6167, 72.8253) projected
  line L171 (15.4167, 72.8753) -> (15.4167, 72.8253) projected
  line L172 (16.7333, 67.8753) -> (16.9333, 67.8753) projected
  line L173 (16.7333, 67.9253) -> (16.7333, 67.8753) projected
  line L174 (16.9333, 67.9253) -> (16.7333, 67.9253) projected
  line L175 (16.9333, 67.8753) -> (16.9333, 67.9253) projected
  line L176 (16.9333, 72.8753) -> (16.7333, 72.8753) projected
  line L177 (16.9333, 72.8253) -> (16.9333, 72.8753) projected
  line L178 (16.7333, 72.8253) -> (16.9333, 72.8253) projected
  line L179 (16.7333, 72.8753) -> (16.7333, 72.8253) projected
  line L180 (18.05, 67.8753) -> (18.25, 67.8753) projected
  line L181 (18.05, 67.9253) -> (18.05, 67.8753) projected
  line L182 (18.25, 67.9253) -> (18.05, 67.9253) projected
  line L183 (18.25, 67.8753) -> (18.25, 67.9253) projected
  line L184 (18.25, 72.8753) -> (18.05, 72.8753) projected
  line L185 (18.25, 72.8253) -> (18.25, 72.8753) projected
  line L186 (18.05, 72.8253) -> (18.25, 72.8253) projected
  line L187 (18.05, 72.8753) -> (18.05, 72.8253) projected
  line L188 (19.3667, 67.8753) -> (19.5667, 67.8753) projected
  line L189 (19.3667, 67.9253) -> (19.3667, 67.8753) projected
  line L190 (19.5667, 67.9253) -> (19.3667, 67.9253) projected
  line L191 (19.5667, 67.8753) -> (19.5667, 67.9253) projected
  line L192 (19.5667, 72.8753) -> (19.3667, 72.8753) projected
  line L193 (19.5667, 72.8253) -> (19.5667, 72.8753) projected
  line L194 (19.3667, 72.8253) -> (19.5667, 72.8253) projected
  line L195 (19.3667, 72.8753) -> (19.3667, 72.8253) projected
  line L196 (20.6833, 67.8753) -> (20.8833, 67.8753) projected
  line L197 (20.6833, 67.9253) -> (20.6833, 67.8753) projected
  line L198 (20.8833, 67.9253) -> (20.6833, 67.9253) projected
  line L199 (20.8833, 67.8753) -> (20.8833, 67.9253) projected
  line L200 (20.8833, 72.8753) -> (20.6833, 72.8753) projected
  line L201 (20.8833, 72.8253) -> (20.8833, 72.8753) projected
  line L202 (20.6833, 72.8253) -> (20.8833, 72.8253) projected
  line L203 (20.6833, 72.8753) -> (20.6833, 72.8253) projected
  line L204 (22, 67.8753) -> (22.2, 67.8753) projected
  line L205 (22, 67.9253) -> (22, 67.8753) projected
  line L206 (22.2, 67.9253) -> (22, 67.9253) projected
  line L207 (22.2, 67.8753) -> (22.2, 67.9253) projected
  line L208 (22.2, 72.8753) -> (22, 72.8753) projected
  line L209 (22.2, 72.8253) -> (22.2, 72.8753) projected
  line L210 (22, 72.8253) -> (22.2, 72.8253) projected
  line L211 (22, 72.8753) -> (22, 72.8253) projected
  line L212 (13.9, 72.3753) -> (13.9, 68.3753) projected
  line L213 (22.4, 72.3753) -> (13.9, 72.3753) projected
  line L214 (22.4, 68.3753) -> (22.4, 72.3753) projected
  line L215 (13.9, 68.3753) -> (22.4, 68.3753) projected
  line L216 (4.25, 68.3753) -> (4.25, 72.3753) projected
  line L217 (-4.25, 68.3753) -> (4.25, 68.3753) projected
  line L218 (-4.25, 72.3753) -> (-4.25, 68.3753) projected
  line L219 (4.25, 72.3753) -> (-4.25, 72.3753) projected
  line L220 (-20.5, 75.1253) -> (-20.5, 65.6253) projected
  line L221 (-16.5, 75.1253) -> (-20.5, 75.1253) projected
  line L222 (-16.5, 65.6253) -> (-16.5, 75.1253) projected
  line L223 (-20.5, 65.6253) -> (-16.5, 65.6253) projected
  line L224 (-22.5, 80.3753) -> (-20.5, 80.3753)
  line L225 (-20.5, 80.3753) -> (-20.5, 78.3753)
  line L226 (-20.5, 78.3753) -> (-22.5, 78.3753)
  line L227 (-22.5, 78.3753) -> (-22.5, 80.3753)
  line L228 (-22.5, 60.3753) -> (-20.5, 60.3753)
  line L229 (-20.5, 60.3753) -> (-20.5, 62.3753)
  line L230 (-20.5, 62.3753) -> (-22.5, 62.3753)
  line L231 (-22.5, 62.3753) -> (-22.5, 60.3753)
  line L232 (22.5, 60.3753) -> (20.5, 60.3753)
  line L233 (20.5, 60.3753) -> (20.5, 62.3753)
  line L234 (20.5, 62.3753) -> (22.5, 62.3753)
  line L235 (22.5, 62.3753) -> (22.5, 60.3753)
  line L236 (22.5, 80.3753) -> (20.5, 80.3753)
  line L237 (20.5, 80.3753) -> (20.5, 78.3753)
  line L238 (20.5, 78.3753) -> (22.5, 78.3753)
  line L239 (22.5, 78.3753) -> (22.5, 80.3753)
  point P0 (-50, 17.3753)
  dimension "d24" = 2
  dimension "d25" = 2
  dimension "d26" = 2
  dimension "d27" = 2
  dimension "d28" = 2
  dimension "d29" = 2
  dimension "d30" = 2
  dimension "d31" = 2
extrude "Extrusion5" add sketch "Sketch6" along normal up to surface (1.5 mm away) contours L0 L233 L234 L1 | L0 L3 L230 L229 | L238 L237 L2 L1 | L3 L2 L225 L226 | A0 | A1 | A2 | A3
sketch "Sketch8" plane through (0, 0, 0) normal (0, -1, 0) x (1, 0, 0)
  circle A0 centre (-2.5, -10) radius 1.5
  line L0 (-5, 0) -> (-5, -100) projected
  line L1 (0, 0) -> (-5, 0) projected
  dimension "d36" = 3
  dimension "d37" = 2.5
  dimension "d38" = 10
extrude "Extrusion7" add sketch "Sketch8" along normal blind 5
pattern_linear "Rectangular Pattern1" count 5 spacing 20 along (0, 0, -1) of "Extrusion7"
sketch "Sketch9" plane through (0, 0, 0) normal (1, 0, 0) x (0, 0, -1)
  line L0 (100, 0) -> (100, 75) projected
  line L1 (0, 23) -> (100, 23)
  line L2 (100, 23) -> (100, 28)
  line L3 (100, 28) -> (0, 28)
  line L4 (0, 28) -> (0, 23)
  line L5 (100, 0) -> (0, 0) projected
  circle A0 centre (10, 25.5) radius 1.5
  line L6 (0, 75) -> (27.5, 75) projected
  line L7 (0, 0) -> (5, 0)
  line L8 (5, 0) -> (5, 75)
  line L9 (5, 75) -> (0, 75)
  line L10 (0, 75) -> (0, 0)
  dimension "d44" = 5
  dimension "d45" = 23
  dimension "d46" = 3
  dimension "d47" = 2.5
  dimension "d54" = 5
  dimension "d55" = 5
extrude "Extrusion8" cut sketch "Sketch9" against normal blind 2.5 contours A0
pattern_linear "Rectangular Pattern2" count 9 spacing 10 along (0, 0, -1) of "Extrusion8"
sketch "Sketch10" plane through (0, 0, 0) normal (1, 0, 0) x (0, 0, -1)
  circle A0 centre (2.5, 7.5) radius 1.5
  line L0 (0, 0) -> (0, 75) projected
  line L1 (100, 0) -> (0, 0) projected
  dimension "d56" = 3
  dimension "d57" = 2.5
  dimension "d58" = 7.5
extrude "Extrusion9" cut sketch "Sketch10" against normal blind 2.5
pattern_linear "Rectangular Pattern3" count 3 spacing 30 along (0, 1, 0) of "Extrusion9"
ref_plane "Work Plane2" through (-5, 0, -50) normal (0, 0, 1) x (1, 0, 0)
mirror "Mirror1" about plane through (-5, 0, -50) normal (0, 0, 1) of "Extrusion9", "Rectangular Pattern3"
sketch "Sketch7" plane through (-5, 0, -100) normal (-1, 0, 0) x (0, 0, 1)
  line L0 (30.2022, 30) -> (42.2022, 30) projected
  line L1 (42.2022, 30) -> (42.2022, 41) projected
  line L2 (30.2022, 41) -> (42.2022, 41) projected
  line L3 (30.2022, 30) -> (30.2022, 41) projected
  line L4 (33.2022, 40) -> (39.2022, 40) projected
  line L5 (39.2022, 40) -> (41.2022, 38) projected
  line L6 (41.2022, 38) -> (41.2022, 31) projected
  line L7 (41.2022, 31) -> (31.2022, 31) projected
  line L8 (31.2022, 31) -> (31.2022, 38) projected
  line L9 (31.2022, 38) -> (33.2022, 40) projected
  line L10 (68.7022, 30) -> (59.7022, 30) projected
  line L11 (68.7022, 30) -> (68.7022, 41) projected
  line L12 (59.7022, 41) -> (68.7022, 41) projected
  line L13 (59.7022, 30) -> (59.7022, 41) projected
  circle A0 centre (64.2022, 36.5) radius 3 projected
  line L14 (42.2022, 30) -> (30.2022, 30)
  line L15 (30.2022, 30) -> (30.2022, 40)
  line L16 (30.2022, 40) -> (42.2022, 40)
  line L17 (42.2022, 40) -> (42.2022, 30)
  line L18 (72.5, 40) -> (27.5, 40) projected
  line L19 (59.7022, 30) -> (68.7022, 30)
  line L20 (68.7022, 30) -> (68.7022, 40)
  line L21 (68.7022, 40) -> (59.7022, 40)
  line L22 (59.7022, 40) -> (59.7022, 30)
  point P0 (100, 0)
equation "\"d9\" = d13"
properties part number "Front Plate V3"
